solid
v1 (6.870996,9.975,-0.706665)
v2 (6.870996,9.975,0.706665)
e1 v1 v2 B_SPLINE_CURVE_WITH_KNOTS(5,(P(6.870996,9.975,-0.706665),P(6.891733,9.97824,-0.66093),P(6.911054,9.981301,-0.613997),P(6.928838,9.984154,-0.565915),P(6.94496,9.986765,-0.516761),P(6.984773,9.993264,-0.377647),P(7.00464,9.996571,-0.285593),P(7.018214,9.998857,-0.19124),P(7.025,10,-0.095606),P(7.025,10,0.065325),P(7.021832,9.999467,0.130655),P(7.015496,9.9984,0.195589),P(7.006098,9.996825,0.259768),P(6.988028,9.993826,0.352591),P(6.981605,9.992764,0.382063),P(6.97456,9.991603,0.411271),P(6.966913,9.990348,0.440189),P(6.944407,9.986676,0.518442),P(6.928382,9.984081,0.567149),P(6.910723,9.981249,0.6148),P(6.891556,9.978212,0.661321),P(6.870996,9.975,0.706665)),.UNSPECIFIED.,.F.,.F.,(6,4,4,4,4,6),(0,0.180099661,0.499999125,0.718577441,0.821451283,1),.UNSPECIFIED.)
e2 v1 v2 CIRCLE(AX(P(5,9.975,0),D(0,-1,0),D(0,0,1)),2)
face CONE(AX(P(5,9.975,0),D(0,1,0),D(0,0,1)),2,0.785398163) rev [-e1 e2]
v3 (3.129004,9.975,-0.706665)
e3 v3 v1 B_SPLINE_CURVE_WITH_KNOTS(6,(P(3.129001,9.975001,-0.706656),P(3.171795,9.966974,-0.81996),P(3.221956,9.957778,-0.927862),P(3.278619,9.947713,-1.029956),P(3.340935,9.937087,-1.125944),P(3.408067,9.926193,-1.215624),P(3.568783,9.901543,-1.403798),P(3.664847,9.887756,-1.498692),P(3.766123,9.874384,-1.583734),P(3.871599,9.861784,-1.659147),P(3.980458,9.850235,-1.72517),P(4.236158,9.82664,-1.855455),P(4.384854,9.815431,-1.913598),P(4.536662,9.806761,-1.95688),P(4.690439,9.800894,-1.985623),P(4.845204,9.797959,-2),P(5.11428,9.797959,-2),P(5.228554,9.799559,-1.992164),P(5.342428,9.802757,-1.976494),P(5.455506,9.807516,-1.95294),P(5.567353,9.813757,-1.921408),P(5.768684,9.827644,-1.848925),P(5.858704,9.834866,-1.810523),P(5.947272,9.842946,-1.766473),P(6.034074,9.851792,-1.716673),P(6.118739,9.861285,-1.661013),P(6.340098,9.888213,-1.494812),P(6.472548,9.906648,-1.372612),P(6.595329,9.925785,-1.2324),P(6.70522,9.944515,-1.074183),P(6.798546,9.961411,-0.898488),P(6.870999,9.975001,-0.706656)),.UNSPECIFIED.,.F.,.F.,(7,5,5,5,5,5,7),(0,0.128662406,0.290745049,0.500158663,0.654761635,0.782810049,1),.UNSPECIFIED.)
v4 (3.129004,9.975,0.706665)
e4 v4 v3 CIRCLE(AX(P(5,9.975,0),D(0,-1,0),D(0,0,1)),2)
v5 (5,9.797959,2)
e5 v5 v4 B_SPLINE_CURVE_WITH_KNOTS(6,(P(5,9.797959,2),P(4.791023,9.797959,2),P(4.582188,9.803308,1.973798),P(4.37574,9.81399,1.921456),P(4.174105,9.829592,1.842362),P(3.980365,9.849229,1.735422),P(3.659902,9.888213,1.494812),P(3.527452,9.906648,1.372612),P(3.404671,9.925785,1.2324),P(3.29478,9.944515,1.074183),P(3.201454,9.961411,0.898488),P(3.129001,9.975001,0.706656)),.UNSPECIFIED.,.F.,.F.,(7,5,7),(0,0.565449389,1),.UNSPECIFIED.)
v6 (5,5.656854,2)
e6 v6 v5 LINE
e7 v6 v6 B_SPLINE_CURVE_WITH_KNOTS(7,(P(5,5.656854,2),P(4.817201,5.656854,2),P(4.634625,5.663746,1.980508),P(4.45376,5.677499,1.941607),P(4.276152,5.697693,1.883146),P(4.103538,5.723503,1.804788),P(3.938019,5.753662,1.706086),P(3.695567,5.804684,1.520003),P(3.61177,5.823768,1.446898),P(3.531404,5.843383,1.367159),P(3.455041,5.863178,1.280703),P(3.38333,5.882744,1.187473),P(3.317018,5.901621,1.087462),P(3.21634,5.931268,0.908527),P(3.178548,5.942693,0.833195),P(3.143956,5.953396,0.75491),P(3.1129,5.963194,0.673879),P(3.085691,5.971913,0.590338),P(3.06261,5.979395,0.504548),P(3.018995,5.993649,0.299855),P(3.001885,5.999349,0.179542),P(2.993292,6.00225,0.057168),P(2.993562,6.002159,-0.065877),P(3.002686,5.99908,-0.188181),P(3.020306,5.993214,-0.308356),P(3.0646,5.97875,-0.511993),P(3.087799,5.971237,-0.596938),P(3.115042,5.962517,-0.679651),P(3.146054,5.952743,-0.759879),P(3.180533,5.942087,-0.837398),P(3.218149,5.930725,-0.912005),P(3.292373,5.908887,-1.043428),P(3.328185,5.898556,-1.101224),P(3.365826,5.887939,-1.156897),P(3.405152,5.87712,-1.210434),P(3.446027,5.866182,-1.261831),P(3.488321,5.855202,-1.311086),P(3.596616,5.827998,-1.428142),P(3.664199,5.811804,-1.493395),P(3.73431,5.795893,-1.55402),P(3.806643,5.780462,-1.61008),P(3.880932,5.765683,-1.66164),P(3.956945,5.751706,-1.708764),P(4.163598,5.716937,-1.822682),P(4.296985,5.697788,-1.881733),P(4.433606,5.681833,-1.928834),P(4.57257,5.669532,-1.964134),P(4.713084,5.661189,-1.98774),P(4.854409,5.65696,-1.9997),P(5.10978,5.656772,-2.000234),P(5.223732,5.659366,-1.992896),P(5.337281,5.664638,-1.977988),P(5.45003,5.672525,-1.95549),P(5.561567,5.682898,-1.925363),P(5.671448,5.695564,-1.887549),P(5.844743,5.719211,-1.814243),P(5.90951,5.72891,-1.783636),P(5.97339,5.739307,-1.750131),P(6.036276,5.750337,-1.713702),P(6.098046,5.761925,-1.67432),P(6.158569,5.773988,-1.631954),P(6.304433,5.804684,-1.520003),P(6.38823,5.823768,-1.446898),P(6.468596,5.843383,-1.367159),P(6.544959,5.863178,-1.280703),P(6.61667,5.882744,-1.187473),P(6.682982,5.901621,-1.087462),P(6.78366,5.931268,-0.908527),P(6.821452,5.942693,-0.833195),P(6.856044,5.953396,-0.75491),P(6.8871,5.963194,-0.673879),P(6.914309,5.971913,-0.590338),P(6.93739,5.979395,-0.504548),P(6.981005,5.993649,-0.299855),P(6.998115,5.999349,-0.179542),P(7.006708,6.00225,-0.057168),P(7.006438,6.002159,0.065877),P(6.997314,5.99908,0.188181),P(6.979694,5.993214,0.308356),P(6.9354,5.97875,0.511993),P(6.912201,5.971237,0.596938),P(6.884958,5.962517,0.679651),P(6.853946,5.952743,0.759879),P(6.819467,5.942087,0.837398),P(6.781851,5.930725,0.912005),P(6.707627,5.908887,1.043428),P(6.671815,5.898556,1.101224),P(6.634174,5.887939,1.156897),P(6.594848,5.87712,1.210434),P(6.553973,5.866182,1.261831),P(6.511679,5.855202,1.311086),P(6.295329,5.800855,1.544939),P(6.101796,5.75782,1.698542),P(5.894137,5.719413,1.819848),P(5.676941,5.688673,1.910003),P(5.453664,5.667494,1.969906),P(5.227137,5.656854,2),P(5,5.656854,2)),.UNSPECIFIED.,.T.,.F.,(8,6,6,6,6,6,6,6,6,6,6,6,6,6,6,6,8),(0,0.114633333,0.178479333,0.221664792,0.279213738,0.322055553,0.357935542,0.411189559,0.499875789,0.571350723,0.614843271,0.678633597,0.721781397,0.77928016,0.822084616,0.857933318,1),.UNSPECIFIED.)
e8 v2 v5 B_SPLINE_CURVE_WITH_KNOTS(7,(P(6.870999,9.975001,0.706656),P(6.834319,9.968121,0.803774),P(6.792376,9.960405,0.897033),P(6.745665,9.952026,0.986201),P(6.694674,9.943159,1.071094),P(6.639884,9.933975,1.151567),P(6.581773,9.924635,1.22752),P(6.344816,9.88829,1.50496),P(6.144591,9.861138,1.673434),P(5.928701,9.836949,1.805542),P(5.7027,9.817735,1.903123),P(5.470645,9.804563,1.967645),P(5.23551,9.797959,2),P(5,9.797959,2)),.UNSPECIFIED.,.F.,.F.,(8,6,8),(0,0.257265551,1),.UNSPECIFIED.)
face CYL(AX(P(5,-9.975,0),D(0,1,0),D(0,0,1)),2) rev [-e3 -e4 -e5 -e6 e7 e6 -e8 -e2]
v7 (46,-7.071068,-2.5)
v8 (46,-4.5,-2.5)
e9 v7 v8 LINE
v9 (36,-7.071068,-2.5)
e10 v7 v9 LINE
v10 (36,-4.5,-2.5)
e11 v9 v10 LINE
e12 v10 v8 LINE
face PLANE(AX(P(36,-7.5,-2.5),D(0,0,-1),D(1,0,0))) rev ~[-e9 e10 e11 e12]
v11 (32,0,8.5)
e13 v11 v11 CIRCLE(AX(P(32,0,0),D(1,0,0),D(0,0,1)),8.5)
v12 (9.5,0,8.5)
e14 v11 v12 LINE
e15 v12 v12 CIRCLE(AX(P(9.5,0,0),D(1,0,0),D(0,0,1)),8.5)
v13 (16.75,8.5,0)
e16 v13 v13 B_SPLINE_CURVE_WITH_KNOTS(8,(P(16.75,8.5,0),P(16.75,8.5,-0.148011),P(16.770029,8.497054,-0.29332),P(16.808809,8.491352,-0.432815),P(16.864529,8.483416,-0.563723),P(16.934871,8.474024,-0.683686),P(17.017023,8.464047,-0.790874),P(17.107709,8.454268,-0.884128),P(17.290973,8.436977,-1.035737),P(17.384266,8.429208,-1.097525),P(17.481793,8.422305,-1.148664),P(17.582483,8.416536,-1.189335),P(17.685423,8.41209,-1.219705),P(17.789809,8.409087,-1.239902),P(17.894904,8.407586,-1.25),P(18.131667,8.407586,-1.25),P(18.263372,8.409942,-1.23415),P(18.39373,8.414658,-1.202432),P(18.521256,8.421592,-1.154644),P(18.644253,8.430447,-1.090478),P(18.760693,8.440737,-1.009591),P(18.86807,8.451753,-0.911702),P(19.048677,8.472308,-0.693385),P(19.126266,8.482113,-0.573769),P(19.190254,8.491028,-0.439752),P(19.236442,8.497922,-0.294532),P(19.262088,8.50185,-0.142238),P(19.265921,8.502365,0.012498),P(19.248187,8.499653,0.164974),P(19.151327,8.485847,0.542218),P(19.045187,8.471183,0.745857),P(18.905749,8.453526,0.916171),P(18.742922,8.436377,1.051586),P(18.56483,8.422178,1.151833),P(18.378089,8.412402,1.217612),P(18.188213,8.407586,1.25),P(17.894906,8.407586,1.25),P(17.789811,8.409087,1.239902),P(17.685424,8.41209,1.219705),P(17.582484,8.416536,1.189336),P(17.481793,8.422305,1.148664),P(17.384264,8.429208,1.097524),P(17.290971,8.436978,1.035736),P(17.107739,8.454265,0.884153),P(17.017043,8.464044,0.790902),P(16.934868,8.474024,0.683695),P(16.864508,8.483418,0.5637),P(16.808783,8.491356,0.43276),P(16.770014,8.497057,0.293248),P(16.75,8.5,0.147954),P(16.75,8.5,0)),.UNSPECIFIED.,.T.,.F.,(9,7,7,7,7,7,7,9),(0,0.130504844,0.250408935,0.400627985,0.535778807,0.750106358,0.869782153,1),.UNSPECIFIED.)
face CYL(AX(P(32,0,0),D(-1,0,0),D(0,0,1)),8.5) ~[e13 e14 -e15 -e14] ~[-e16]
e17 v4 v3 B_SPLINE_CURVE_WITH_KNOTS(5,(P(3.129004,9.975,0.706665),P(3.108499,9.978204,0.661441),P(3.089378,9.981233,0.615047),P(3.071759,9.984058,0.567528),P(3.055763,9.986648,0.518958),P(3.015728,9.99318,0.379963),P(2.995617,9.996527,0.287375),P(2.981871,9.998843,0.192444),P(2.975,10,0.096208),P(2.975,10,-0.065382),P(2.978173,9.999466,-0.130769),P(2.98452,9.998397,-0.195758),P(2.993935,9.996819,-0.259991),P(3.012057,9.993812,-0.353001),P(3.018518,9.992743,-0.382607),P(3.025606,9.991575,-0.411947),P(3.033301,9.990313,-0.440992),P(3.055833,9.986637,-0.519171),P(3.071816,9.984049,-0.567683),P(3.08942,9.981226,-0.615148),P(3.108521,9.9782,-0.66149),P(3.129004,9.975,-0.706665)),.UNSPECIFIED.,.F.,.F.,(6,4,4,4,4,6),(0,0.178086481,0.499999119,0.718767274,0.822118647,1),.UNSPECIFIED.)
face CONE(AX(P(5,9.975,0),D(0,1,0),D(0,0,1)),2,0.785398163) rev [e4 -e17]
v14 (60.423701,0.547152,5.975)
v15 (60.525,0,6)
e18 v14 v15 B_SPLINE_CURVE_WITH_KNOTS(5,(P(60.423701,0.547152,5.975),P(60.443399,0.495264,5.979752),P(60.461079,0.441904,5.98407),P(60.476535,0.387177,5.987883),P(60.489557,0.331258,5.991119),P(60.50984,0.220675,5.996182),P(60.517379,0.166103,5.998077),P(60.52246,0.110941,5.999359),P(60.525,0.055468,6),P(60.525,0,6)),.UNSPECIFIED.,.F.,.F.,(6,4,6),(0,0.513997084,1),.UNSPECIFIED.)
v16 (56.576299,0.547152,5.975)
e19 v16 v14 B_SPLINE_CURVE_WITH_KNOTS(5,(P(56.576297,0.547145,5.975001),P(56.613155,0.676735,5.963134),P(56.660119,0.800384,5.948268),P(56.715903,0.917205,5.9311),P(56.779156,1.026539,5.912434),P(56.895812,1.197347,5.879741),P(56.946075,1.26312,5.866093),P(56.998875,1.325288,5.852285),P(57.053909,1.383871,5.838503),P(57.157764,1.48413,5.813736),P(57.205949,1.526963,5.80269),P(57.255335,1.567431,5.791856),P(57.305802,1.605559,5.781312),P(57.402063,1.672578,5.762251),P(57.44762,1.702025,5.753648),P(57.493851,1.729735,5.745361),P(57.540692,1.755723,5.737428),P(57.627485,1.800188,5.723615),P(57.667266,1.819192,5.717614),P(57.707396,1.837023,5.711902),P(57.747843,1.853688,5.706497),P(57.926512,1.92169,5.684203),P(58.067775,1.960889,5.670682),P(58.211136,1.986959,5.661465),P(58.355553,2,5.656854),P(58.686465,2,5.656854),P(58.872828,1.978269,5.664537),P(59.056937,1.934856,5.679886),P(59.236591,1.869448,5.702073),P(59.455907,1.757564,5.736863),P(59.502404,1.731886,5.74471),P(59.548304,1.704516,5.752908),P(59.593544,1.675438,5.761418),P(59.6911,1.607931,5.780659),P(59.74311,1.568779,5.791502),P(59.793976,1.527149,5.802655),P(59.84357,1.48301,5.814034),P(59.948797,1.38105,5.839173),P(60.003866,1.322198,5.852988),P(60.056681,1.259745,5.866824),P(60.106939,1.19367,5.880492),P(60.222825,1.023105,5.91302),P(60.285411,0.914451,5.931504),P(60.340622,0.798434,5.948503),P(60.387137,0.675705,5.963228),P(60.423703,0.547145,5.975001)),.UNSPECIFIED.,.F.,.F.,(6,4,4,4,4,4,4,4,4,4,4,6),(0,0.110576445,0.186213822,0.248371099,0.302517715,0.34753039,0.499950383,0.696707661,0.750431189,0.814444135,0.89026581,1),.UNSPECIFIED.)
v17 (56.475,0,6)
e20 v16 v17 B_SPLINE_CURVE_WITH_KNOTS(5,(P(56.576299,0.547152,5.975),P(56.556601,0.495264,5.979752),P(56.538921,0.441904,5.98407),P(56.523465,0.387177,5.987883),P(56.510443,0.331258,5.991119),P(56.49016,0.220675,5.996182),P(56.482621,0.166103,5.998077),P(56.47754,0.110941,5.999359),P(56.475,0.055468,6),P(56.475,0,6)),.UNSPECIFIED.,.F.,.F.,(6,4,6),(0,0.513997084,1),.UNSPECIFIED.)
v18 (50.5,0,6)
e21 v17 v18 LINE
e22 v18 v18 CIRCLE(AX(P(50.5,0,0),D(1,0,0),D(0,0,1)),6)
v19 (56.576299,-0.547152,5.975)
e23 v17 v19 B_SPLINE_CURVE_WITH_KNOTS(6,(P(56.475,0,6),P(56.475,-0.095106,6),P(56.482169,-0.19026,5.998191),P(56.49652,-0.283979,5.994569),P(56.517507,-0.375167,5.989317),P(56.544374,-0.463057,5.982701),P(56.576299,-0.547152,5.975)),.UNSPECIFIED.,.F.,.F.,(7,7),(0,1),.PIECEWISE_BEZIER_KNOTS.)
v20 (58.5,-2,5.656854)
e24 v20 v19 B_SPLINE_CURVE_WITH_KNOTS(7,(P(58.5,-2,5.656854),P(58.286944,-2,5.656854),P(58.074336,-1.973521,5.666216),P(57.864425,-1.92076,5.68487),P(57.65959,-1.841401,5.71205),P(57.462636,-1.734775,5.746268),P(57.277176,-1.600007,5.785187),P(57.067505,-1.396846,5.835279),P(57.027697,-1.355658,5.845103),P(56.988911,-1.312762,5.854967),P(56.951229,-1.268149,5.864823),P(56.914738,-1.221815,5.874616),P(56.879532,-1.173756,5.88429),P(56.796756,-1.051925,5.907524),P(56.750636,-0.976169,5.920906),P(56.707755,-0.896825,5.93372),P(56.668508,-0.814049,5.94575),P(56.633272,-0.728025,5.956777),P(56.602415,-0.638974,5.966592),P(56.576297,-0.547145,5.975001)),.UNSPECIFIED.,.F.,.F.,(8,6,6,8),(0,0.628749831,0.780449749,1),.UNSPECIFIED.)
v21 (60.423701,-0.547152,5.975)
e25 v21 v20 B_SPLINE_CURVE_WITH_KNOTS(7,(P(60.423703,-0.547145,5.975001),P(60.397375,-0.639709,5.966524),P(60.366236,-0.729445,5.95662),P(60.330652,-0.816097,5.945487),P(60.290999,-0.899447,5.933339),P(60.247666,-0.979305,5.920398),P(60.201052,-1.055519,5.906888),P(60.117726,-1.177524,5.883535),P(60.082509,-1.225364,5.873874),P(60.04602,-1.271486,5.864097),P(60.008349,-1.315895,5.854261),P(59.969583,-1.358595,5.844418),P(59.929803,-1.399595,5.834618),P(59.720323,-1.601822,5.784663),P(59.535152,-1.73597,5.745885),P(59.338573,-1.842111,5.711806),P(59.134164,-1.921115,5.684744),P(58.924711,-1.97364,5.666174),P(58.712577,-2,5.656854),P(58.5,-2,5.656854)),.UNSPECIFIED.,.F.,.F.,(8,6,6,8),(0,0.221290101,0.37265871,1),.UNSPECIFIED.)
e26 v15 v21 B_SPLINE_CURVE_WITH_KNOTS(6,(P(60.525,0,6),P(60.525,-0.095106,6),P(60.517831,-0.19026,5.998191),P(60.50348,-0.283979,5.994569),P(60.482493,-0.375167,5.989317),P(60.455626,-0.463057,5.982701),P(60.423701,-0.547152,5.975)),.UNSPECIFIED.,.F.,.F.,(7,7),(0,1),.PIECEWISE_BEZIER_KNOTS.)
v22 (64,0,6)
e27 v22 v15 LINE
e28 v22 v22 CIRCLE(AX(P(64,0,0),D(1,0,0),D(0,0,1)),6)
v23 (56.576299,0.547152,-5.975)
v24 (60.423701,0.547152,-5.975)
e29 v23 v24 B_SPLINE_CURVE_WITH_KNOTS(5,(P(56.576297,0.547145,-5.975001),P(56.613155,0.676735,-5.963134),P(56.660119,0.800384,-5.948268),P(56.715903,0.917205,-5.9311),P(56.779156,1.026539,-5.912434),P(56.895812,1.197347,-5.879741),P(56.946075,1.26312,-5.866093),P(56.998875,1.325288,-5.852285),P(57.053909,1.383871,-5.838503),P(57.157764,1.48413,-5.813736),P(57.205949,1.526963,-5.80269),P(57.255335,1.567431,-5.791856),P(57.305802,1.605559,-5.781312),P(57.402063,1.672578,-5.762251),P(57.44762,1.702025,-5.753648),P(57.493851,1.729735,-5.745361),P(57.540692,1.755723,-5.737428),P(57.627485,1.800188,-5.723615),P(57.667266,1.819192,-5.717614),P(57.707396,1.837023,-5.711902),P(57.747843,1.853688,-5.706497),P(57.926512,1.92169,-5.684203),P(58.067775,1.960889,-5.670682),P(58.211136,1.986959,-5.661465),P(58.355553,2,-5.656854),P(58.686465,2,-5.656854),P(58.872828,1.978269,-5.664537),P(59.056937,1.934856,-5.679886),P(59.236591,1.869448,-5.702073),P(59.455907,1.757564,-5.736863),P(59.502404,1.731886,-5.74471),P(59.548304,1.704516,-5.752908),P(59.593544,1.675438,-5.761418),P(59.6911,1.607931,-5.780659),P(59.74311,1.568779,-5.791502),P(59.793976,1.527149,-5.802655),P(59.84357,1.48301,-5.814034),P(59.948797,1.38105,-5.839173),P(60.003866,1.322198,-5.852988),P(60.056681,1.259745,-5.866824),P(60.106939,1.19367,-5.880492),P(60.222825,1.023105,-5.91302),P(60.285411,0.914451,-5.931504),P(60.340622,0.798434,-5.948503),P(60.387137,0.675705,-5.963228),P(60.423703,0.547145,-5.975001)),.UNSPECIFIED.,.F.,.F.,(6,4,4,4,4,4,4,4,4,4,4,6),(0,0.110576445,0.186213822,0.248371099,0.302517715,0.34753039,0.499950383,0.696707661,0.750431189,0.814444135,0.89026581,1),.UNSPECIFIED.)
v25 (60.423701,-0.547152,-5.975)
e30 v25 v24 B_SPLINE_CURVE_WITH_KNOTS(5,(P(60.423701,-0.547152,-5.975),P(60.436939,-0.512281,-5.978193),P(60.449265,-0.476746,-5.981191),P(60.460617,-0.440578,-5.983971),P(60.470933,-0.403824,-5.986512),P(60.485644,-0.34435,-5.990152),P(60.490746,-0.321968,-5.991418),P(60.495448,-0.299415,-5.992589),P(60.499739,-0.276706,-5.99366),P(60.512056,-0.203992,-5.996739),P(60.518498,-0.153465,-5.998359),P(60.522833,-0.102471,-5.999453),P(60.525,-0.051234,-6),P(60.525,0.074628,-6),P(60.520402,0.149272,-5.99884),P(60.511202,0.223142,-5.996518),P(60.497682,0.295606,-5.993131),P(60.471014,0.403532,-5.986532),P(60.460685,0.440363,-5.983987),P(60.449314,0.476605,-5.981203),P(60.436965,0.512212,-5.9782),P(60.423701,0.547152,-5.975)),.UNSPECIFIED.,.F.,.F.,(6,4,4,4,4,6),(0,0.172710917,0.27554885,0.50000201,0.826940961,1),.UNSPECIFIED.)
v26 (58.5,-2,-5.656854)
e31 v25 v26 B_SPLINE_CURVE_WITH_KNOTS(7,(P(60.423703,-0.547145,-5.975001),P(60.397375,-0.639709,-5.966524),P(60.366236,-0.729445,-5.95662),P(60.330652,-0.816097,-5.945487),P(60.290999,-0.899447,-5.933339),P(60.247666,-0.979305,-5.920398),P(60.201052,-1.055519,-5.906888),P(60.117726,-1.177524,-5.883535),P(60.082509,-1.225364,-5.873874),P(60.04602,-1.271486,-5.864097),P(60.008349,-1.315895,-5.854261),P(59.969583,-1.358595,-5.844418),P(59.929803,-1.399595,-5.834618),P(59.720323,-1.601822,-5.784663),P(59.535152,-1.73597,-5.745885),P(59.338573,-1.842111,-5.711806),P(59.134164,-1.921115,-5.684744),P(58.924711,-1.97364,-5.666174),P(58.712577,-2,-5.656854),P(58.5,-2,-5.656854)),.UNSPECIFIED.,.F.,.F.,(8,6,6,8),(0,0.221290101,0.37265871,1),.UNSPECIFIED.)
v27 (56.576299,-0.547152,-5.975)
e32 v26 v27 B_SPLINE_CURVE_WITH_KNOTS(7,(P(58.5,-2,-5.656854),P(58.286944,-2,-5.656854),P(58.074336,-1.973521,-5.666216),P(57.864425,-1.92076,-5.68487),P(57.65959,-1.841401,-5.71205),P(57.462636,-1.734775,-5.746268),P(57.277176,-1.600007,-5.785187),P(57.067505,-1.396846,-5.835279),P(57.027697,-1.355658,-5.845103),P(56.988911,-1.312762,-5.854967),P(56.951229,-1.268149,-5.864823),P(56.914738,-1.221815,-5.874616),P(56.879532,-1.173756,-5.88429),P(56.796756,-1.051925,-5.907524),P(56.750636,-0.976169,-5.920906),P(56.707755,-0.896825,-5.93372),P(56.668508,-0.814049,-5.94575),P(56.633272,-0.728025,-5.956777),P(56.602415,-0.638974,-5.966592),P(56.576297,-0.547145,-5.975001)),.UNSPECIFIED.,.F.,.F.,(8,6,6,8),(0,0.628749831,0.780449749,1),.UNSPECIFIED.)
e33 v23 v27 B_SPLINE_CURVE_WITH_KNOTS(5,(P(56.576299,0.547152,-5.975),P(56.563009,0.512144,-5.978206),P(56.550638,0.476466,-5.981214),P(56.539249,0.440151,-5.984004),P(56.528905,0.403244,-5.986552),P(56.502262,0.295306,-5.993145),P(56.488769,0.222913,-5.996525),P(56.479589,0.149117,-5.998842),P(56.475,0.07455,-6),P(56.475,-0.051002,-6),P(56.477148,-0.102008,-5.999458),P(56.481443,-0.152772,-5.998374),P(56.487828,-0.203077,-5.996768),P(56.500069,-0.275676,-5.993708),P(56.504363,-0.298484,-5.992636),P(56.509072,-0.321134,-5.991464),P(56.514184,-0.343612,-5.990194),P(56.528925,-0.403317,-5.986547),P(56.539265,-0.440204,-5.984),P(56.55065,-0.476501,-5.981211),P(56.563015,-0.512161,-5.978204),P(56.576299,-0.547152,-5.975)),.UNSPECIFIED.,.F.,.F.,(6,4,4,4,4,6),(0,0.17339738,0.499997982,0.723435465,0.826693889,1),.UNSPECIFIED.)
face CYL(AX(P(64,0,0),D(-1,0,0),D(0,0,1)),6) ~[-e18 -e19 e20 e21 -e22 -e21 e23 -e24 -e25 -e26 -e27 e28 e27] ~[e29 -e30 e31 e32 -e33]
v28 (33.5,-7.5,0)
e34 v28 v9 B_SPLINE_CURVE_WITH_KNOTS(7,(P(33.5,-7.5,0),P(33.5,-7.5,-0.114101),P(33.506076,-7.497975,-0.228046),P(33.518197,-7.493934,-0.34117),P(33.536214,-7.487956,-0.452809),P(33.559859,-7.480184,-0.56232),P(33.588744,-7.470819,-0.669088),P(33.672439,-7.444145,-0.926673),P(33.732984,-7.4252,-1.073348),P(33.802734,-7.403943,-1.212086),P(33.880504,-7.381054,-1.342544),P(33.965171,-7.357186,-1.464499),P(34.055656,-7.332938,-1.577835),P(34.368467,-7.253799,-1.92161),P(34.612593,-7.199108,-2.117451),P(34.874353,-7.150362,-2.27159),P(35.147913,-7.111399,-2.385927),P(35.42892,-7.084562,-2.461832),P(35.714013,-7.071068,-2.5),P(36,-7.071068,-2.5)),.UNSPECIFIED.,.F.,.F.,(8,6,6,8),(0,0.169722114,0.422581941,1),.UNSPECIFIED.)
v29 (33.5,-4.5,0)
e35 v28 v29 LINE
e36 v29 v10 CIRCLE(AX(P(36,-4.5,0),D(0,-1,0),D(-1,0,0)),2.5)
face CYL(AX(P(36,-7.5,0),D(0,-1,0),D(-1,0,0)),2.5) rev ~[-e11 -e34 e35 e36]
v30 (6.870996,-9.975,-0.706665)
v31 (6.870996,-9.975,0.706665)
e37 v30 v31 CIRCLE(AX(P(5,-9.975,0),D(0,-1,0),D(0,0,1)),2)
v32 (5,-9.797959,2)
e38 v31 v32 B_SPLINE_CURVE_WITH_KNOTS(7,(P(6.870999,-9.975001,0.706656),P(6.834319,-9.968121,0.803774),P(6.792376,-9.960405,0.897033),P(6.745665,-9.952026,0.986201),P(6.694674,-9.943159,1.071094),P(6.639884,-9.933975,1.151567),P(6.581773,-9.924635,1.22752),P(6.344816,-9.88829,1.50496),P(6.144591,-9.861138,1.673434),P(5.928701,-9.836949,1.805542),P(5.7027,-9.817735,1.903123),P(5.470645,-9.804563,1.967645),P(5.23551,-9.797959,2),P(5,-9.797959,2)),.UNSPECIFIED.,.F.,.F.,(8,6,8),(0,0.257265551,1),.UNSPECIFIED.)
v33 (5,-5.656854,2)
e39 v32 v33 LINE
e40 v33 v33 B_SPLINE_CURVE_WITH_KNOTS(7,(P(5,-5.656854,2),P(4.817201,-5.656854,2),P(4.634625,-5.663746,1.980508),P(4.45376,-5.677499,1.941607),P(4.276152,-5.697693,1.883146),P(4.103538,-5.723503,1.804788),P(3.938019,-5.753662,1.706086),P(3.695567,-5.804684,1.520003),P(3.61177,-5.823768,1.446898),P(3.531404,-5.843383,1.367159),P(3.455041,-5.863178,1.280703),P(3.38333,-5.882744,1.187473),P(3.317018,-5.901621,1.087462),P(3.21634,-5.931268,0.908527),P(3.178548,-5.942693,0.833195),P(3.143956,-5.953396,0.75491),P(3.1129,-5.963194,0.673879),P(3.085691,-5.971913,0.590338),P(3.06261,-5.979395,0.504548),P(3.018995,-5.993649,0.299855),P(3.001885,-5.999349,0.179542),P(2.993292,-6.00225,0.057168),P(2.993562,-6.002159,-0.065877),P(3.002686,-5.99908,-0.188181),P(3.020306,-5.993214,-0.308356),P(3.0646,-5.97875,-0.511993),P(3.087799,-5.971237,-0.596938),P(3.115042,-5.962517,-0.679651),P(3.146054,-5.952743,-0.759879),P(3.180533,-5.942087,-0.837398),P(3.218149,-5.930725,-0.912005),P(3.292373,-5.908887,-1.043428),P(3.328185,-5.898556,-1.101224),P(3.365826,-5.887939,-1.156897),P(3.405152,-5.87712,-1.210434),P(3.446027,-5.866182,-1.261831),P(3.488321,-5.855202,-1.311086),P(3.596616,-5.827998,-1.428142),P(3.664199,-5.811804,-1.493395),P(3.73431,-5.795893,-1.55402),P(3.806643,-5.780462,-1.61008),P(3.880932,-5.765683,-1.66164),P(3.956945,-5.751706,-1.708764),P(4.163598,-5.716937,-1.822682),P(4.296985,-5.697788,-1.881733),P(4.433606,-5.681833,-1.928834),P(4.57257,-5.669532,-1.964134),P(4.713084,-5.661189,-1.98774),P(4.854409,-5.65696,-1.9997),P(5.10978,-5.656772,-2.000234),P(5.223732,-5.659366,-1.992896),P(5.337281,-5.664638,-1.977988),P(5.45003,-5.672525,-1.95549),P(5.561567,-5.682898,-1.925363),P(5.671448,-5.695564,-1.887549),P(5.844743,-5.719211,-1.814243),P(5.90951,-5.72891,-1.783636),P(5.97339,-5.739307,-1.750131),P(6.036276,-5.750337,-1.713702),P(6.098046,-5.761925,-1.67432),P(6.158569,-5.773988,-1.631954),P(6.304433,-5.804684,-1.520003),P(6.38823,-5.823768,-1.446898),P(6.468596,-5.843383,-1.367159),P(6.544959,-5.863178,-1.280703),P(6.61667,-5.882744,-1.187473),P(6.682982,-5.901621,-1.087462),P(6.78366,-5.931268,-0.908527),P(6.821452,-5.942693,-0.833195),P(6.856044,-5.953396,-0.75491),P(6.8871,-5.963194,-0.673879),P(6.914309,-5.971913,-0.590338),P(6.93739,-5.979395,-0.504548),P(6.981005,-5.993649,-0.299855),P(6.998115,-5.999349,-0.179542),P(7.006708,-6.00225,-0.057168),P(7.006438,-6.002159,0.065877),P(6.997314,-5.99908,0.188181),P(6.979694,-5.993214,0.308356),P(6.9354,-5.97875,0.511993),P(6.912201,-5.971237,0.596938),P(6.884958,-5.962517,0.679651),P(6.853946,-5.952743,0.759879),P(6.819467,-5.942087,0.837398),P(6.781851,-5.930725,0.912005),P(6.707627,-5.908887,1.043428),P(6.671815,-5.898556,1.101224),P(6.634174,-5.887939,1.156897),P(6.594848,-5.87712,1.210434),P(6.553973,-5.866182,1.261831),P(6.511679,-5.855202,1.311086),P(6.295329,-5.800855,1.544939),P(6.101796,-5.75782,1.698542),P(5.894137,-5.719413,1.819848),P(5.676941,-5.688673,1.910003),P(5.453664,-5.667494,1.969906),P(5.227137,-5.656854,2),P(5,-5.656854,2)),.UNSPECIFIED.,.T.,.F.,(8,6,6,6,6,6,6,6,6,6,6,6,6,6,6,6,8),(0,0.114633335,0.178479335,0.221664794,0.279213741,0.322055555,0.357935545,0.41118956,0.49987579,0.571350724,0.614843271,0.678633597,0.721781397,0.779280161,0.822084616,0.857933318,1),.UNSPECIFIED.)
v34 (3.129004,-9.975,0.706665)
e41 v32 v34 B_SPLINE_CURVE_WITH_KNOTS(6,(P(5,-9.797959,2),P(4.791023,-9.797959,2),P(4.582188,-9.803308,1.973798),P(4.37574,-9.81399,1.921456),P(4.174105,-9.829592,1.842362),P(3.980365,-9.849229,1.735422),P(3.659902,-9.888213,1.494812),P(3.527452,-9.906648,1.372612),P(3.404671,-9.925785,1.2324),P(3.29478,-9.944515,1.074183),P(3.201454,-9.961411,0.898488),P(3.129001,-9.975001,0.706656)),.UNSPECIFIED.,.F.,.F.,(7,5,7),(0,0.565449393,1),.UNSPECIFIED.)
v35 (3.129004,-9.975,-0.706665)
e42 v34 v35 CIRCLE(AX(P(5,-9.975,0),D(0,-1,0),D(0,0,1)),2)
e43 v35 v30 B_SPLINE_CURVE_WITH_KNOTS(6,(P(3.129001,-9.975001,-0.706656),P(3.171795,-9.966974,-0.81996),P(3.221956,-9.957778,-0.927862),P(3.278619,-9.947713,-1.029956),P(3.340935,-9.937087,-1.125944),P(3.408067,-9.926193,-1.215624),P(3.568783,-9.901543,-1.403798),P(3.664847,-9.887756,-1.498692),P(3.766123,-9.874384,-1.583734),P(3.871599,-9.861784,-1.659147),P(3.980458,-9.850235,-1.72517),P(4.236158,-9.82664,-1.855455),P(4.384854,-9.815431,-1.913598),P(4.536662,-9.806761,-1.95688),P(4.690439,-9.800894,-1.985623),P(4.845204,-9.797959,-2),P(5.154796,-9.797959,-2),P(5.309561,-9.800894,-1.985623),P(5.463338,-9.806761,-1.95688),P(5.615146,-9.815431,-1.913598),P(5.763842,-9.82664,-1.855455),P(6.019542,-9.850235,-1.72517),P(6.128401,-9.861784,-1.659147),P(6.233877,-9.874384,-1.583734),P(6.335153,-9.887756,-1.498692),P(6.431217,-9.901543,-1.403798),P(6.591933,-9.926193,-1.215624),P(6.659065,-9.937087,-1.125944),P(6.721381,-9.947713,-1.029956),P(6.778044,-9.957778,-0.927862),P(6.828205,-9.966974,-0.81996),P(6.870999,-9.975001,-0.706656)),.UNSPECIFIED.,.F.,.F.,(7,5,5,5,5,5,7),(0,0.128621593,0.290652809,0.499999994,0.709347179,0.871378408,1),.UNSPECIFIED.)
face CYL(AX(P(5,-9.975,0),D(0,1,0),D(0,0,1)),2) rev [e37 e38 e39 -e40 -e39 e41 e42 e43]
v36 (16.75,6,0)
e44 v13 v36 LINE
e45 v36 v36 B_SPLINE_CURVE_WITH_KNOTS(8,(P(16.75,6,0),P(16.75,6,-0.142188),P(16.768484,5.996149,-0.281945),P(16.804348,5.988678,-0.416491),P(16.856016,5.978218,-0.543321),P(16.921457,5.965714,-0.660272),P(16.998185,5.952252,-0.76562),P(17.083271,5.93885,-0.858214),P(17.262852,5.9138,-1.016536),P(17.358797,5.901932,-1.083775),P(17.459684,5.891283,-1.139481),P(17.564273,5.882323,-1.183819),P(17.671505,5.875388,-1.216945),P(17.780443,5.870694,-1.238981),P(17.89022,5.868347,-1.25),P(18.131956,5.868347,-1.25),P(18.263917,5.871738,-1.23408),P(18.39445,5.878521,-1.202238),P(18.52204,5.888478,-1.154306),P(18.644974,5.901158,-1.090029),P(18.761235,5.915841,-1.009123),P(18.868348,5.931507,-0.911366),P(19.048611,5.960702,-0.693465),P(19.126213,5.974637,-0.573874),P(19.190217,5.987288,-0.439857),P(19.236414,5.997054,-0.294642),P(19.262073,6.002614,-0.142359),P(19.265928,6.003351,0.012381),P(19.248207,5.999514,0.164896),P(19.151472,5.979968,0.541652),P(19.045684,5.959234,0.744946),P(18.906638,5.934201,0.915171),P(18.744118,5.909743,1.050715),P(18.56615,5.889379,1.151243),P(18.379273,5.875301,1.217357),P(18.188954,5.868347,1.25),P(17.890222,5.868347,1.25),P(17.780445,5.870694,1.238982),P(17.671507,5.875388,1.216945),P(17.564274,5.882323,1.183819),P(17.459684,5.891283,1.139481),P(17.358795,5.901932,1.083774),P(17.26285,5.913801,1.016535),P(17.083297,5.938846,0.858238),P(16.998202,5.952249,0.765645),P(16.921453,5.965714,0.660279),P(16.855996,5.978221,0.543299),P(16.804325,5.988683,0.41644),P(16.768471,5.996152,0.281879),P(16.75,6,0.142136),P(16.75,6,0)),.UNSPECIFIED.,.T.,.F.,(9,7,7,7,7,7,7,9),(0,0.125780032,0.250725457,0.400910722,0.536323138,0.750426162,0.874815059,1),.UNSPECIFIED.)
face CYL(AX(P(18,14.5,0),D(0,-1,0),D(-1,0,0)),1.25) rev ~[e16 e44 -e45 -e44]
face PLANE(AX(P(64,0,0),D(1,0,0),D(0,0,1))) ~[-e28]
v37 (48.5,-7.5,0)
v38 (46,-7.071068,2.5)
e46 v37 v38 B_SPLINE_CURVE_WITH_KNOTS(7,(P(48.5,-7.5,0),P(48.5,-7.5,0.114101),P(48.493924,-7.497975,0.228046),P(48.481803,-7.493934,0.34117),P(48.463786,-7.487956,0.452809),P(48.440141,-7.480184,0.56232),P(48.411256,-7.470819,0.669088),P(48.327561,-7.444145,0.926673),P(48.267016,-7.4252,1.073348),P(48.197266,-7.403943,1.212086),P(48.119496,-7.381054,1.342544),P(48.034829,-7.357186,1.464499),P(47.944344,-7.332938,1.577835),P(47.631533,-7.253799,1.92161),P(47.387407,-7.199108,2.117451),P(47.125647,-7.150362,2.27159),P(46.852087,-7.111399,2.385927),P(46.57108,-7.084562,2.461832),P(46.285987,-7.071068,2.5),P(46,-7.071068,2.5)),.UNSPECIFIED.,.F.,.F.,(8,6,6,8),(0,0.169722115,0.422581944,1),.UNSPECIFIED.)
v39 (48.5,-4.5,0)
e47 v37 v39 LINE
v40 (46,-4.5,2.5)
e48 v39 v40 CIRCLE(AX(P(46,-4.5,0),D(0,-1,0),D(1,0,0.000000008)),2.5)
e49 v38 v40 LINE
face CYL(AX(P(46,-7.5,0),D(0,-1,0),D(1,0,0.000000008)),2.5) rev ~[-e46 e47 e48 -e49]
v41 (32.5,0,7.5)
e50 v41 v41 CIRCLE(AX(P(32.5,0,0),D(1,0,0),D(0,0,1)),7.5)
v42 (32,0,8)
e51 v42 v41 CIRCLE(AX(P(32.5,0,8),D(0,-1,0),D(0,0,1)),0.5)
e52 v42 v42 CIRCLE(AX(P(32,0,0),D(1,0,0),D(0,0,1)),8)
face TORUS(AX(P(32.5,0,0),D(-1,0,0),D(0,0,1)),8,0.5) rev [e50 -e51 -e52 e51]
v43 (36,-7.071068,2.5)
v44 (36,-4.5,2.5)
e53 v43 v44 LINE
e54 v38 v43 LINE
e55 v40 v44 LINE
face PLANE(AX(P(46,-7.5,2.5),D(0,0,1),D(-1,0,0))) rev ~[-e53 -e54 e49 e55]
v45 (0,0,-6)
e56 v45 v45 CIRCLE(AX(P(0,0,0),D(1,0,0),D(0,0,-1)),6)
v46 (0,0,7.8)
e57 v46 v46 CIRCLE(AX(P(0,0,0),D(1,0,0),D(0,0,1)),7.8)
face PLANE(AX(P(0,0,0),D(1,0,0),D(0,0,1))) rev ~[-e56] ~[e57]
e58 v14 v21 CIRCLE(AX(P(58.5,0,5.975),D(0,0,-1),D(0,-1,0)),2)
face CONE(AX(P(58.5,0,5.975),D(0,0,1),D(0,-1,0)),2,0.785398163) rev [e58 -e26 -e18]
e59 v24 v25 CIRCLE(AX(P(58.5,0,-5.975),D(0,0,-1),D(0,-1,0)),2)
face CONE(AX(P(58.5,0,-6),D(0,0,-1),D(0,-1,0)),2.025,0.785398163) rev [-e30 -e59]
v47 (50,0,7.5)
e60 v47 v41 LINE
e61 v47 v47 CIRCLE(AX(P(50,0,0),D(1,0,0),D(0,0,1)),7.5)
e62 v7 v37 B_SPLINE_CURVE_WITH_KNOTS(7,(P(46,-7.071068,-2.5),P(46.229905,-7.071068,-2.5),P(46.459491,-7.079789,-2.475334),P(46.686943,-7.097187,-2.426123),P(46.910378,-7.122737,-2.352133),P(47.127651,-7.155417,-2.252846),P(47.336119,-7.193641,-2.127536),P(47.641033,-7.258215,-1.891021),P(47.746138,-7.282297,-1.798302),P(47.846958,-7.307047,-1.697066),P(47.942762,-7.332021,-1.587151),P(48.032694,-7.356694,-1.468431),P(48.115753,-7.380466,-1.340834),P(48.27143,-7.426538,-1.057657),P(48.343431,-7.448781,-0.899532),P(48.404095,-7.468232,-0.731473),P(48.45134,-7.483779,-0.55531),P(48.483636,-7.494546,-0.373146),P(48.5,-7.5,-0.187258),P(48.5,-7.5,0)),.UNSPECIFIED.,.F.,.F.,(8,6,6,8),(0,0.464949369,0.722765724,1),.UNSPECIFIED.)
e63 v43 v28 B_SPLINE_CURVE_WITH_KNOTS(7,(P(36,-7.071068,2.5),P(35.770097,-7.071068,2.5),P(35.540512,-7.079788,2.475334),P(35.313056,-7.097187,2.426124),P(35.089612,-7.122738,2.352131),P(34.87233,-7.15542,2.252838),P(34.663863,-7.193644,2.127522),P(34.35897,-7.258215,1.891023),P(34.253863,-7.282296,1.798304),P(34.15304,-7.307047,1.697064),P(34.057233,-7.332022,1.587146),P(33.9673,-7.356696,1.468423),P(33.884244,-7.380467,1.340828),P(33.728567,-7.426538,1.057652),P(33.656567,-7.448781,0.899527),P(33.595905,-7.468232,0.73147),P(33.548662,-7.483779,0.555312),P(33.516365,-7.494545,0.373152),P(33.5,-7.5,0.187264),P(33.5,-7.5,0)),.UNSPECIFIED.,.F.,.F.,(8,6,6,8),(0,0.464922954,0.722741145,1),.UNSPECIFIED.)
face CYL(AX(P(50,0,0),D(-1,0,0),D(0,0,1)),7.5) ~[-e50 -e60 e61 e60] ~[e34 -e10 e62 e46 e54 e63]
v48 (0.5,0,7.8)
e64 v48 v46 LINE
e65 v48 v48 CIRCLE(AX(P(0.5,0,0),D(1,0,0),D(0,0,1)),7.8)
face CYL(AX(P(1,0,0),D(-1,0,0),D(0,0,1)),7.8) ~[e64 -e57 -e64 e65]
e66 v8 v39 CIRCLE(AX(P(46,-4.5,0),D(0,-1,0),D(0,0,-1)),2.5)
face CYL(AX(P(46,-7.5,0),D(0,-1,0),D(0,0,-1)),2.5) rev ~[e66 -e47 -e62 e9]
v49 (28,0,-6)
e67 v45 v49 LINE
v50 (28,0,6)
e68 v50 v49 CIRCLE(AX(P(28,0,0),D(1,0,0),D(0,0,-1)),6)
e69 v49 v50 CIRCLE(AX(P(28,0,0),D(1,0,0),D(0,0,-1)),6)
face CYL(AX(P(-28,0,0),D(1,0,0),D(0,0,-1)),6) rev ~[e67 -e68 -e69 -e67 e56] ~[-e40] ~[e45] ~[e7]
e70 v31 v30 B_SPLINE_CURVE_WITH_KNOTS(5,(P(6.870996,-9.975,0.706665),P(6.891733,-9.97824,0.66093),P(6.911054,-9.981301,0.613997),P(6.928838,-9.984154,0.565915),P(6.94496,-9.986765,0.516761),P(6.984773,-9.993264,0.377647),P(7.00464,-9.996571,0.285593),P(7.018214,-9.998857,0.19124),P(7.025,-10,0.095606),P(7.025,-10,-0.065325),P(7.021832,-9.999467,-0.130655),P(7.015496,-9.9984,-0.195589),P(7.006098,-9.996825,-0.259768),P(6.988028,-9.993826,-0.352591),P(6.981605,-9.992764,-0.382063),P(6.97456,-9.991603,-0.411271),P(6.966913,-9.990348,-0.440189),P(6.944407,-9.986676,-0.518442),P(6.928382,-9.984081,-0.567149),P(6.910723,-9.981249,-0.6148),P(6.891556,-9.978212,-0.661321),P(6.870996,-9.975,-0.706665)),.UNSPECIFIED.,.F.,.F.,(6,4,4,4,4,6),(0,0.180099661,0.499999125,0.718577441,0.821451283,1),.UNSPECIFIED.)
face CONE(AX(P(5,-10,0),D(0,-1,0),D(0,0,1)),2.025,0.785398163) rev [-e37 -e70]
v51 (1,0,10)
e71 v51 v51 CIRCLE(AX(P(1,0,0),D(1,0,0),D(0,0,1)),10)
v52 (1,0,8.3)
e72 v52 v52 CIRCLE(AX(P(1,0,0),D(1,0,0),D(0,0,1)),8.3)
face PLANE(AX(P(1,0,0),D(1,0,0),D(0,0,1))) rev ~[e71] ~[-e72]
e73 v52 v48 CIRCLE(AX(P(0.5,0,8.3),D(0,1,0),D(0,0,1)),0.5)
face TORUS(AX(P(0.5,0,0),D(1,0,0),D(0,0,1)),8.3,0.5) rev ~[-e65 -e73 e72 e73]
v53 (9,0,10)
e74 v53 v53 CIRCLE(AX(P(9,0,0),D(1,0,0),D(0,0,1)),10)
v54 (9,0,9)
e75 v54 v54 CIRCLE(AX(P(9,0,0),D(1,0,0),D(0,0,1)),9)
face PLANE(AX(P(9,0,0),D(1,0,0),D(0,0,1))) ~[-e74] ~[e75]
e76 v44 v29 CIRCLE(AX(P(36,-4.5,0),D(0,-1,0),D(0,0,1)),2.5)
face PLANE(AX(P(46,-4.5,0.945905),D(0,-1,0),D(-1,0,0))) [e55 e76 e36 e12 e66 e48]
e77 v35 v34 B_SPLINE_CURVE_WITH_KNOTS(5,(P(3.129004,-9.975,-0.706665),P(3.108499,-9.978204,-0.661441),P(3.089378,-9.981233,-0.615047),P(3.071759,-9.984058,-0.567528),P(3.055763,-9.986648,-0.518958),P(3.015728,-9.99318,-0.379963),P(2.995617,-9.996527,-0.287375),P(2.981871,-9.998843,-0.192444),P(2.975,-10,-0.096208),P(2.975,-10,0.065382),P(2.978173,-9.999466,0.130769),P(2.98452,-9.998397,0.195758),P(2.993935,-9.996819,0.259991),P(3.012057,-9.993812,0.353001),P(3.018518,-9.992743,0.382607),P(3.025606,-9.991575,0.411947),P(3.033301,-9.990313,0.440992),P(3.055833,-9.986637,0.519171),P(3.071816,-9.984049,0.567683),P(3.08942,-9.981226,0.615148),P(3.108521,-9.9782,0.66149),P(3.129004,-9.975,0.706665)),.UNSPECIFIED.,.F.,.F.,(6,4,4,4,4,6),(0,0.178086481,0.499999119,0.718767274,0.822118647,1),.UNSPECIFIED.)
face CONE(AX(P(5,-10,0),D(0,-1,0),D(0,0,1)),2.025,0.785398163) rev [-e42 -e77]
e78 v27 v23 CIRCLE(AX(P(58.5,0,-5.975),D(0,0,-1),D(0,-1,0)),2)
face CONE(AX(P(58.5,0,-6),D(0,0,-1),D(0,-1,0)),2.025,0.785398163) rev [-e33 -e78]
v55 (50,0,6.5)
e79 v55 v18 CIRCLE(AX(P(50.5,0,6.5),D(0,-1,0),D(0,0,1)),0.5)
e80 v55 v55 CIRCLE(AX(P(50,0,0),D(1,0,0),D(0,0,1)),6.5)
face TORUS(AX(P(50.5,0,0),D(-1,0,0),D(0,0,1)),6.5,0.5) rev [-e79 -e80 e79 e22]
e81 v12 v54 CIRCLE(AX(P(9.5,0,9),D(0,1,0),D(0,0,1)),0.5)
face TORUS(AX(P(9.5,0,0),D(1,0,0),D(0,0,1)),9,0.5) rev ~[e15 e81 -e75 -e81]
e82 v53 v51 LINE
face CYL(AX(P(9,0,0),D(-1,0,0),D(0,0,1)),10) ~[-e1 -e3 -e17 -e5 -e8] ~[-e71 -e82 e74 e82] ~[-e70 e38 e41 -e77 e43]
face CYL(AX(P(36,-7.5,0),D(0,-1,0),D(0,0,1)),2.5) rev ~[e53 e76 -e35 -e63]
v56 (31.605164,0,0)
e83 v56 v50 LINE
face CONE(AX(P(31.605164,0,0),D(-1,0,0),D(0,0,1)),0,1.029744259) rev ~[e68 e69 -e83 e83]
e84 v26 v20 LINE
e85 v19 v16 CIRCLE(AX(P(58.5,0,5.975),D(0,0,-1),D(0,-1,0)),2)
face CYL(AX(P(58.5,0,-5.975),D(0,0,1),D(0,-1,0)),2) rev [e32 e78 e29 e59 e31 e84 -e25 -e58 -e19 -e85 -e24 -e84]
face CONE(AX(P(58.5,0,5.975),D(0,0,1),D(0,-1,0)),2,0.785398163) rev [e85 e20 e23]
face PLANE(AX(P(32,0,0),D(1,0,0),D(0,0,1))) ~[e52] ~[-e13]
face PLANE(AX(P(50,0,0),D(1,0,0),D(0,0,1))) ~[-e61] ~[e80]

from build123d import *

# Parameters (mm, degrees)
F_12_0MM_DOWEL_HOLE1_D     = 12
F_12_0MM_DOWEL_HOLE1_DEPTH = 28
F_12_0MM_DOWEL_HOLE1_TIP   = 3.605163714
CUT_EXTRUDE2_DEPTH         = 3
M3X0_5_TAPPED_HOLE1_D      = 2.5
M3X0_5_TAPPED_HOLE1_DEPTH  = 6
M3X0_5_TAPPED_HOLE1_TIP    = 0.751075774
FILLET1_R                  = 0.5


with BuildPart() as part:
    # Sketch1 → Revolve1 (revolve)
    with BuildSketch(Plane.XY, mode=Mode.PRIVATE) as revolve1_sk:
        Polygon((0, 7.8), (0, 0), (64, 0), (64, 6), (50, 6), (50, 7.5), (32, 7.5), (32, 8.5), (16, 8.5), (9, 8.5), (9, 10), (1, 10), (1, 7.8), align=None)
    revolve(revolve1_sk.sketch.rotate(Axis((0, 0, 0), (1, 0, 0)), 90), axis=Axis((0, 0, 0), (1, 0, 0)))

    # Ø12.0mm Dowel Hole1
    with Locations(Plane.ZY):
        with Locations((0, 0)):
            Hole(F_12_0MM_DOWEL_HOLE1_D / 2, depth=F_12_0MM_DOWEL_HOLE1_DEPTH)
            with Locations((0, 0, -(F_12_0MM_DOWEL_HOLE1_DEPTH + F_12_0MM_DOWEL_HOLE1_TIP / 2))):  # 118° drill point
                Cone(0, F_12_0MM_DOWEL_HOLE1_D / 2, F_12_0MM_DOWEL_HOLE1_TIP, mode=Mode.SUBTRACT)

    # Sketch5 → Cut-Extrude2 (cut)
    with BuildSketch(Plane(origin=(0, -7.5, 0), x_dir=(-1, 0, 0), z_dir=(0, -1, 0))):
        with BuildLine():
            ThreePointArc((-46, -2.5), (-44.232233047, -1.767766953), (-43.5, 0))
            Line((-43.5, 0), (-48.5, 0))
            ThreePointArc((-48.5, -1.9e-08), (-47.767766946, -1.76776696), (-46, -2.5))
        make_face()
        with BuildLine():
            Line((-48.5, 0), (-43.5, 0))
            ThreePointArc((-43.5, 0), (-44.232233047, 1.767766953), (-46, 2.5))
            ThreePointArc((-46, 2.5), (-47.76776696, 1.767766946), (-48.5, -1.9e-08))
        make_face()
        with BuildLine():
            Line((-43.5, 0), (-38.5, 0))
            ThreePointArc((-38.5, 0), (-37.767766953, 1.767766953), (-36, 2.5))
            Line((-36, 2.5), (-46, 2.5))
            ThreePointArc((-46, 2.5), (-44.232233047, 1.767766953), (-43.5, 0))
        make_face()
        with BuildLine():
            ThreePointArc((-36, -2.5), (-37.767766953, -1.767766953), (-38.5, 0))
            Line((-38.5, 0), (-43.5, 0))
            ThreePointArc((-43.5, 0), (-44.232233047, -1.767766953), (-46, -2.5))
            Line((-46, -2.5), (-36, -2.5))
        make_face()
        with BuildLine():
            ThreePointArc((-36, -2.5), (-34.232233047, -1.767766953), (-33.5, 0))
            Line((-33.5, 0), (-38.5, 0))
            ThreePointArc((-38.5, 0), (-37.767766953, -1.767766953), (-36, -2.5))
        make_face()
        with BuildLine():
            Line((-38.5, 0), (-33.5, 0))
            ThreePointArc((-33.5, 0), (-34.232233047, 1.767766953), (-36, 2.5))
            ThreePointArc((-36, 2.5), (-37.767766953, 1.767766953), (-38.5, 0))
        make_face()
    extrude(amount=-CUT_EXTRUDE2_DEPTH, mode=Mode.SUBTRACT)

    # M3x0.5 Tapped Hole1
    with Locations(Plane(origin=(0, 8.5, 0), x_dir=(1, 0, 0), z_dir=(0, 1, 0))):
        with Locations((18, 0)):
            Hole(M3X0_5_TAPPED_HOLE1_D / 2, depth=M3X0_5_TAPPED_HOLE1_DEPTH)
            with Locations((0, 0, -(M3X0_5_TAPPED_HOLE1_DEPTH + M3X0_5_TAPPED_HOLE1_TIP / 2))):  # 118° drill point
                Cone(0, M3X0_5_TAPPED_HOLE1_D / 2, M3X0_5_TAPPED_HOLE1_TIP, mode=Mode.SUBTRACT)

    # Sketch11 → Ø4.0mm Dowel Hole1 (revolve, cut)
    with BuildSketch(Plane(origin=(5, 10, 0), x_dir=(0, 0, 1), z_dir=(1, 0, 0))):
        Polygon((0, 0), (0, 20), (2.025, 20), (2, 19.975), (2, 0.025), (2.025, 0), align=None)
    revolve(axis=Axis((5, 16.35, 0), (0, -1, 0)), mode=Mode.SUBTRACT)

    # Sketch12 → Ø4.0mm Dowel Hole2 (revolve, cut)
    with BuildSketch(Plane(origin=(58.5, 0, 6), x_dir=(0, -1, 0), z_dir=(1, 0, 0))):
        Polygon((0, 0), (0, 12), (2.025, 12), (2, 11.975), (2, 0.025), (2.025, 0), align=None)
    revolve(axis=Axis((58.5, 0, 12.35), (0, 0, -1)), mode=Mode.SUBTRACT)

    # Fillet1
    fillet1_edges = [part.edges().sort_by_distance(p)[0] for p in [
        (32, 0, -7.5),
        (50, 0, -6),
        (1, 0, -7.8),
        (9, 0, -8.5),
    ]]
    fillet(fillet1_edges, radius=FILLET1_R)


solid = part.part
